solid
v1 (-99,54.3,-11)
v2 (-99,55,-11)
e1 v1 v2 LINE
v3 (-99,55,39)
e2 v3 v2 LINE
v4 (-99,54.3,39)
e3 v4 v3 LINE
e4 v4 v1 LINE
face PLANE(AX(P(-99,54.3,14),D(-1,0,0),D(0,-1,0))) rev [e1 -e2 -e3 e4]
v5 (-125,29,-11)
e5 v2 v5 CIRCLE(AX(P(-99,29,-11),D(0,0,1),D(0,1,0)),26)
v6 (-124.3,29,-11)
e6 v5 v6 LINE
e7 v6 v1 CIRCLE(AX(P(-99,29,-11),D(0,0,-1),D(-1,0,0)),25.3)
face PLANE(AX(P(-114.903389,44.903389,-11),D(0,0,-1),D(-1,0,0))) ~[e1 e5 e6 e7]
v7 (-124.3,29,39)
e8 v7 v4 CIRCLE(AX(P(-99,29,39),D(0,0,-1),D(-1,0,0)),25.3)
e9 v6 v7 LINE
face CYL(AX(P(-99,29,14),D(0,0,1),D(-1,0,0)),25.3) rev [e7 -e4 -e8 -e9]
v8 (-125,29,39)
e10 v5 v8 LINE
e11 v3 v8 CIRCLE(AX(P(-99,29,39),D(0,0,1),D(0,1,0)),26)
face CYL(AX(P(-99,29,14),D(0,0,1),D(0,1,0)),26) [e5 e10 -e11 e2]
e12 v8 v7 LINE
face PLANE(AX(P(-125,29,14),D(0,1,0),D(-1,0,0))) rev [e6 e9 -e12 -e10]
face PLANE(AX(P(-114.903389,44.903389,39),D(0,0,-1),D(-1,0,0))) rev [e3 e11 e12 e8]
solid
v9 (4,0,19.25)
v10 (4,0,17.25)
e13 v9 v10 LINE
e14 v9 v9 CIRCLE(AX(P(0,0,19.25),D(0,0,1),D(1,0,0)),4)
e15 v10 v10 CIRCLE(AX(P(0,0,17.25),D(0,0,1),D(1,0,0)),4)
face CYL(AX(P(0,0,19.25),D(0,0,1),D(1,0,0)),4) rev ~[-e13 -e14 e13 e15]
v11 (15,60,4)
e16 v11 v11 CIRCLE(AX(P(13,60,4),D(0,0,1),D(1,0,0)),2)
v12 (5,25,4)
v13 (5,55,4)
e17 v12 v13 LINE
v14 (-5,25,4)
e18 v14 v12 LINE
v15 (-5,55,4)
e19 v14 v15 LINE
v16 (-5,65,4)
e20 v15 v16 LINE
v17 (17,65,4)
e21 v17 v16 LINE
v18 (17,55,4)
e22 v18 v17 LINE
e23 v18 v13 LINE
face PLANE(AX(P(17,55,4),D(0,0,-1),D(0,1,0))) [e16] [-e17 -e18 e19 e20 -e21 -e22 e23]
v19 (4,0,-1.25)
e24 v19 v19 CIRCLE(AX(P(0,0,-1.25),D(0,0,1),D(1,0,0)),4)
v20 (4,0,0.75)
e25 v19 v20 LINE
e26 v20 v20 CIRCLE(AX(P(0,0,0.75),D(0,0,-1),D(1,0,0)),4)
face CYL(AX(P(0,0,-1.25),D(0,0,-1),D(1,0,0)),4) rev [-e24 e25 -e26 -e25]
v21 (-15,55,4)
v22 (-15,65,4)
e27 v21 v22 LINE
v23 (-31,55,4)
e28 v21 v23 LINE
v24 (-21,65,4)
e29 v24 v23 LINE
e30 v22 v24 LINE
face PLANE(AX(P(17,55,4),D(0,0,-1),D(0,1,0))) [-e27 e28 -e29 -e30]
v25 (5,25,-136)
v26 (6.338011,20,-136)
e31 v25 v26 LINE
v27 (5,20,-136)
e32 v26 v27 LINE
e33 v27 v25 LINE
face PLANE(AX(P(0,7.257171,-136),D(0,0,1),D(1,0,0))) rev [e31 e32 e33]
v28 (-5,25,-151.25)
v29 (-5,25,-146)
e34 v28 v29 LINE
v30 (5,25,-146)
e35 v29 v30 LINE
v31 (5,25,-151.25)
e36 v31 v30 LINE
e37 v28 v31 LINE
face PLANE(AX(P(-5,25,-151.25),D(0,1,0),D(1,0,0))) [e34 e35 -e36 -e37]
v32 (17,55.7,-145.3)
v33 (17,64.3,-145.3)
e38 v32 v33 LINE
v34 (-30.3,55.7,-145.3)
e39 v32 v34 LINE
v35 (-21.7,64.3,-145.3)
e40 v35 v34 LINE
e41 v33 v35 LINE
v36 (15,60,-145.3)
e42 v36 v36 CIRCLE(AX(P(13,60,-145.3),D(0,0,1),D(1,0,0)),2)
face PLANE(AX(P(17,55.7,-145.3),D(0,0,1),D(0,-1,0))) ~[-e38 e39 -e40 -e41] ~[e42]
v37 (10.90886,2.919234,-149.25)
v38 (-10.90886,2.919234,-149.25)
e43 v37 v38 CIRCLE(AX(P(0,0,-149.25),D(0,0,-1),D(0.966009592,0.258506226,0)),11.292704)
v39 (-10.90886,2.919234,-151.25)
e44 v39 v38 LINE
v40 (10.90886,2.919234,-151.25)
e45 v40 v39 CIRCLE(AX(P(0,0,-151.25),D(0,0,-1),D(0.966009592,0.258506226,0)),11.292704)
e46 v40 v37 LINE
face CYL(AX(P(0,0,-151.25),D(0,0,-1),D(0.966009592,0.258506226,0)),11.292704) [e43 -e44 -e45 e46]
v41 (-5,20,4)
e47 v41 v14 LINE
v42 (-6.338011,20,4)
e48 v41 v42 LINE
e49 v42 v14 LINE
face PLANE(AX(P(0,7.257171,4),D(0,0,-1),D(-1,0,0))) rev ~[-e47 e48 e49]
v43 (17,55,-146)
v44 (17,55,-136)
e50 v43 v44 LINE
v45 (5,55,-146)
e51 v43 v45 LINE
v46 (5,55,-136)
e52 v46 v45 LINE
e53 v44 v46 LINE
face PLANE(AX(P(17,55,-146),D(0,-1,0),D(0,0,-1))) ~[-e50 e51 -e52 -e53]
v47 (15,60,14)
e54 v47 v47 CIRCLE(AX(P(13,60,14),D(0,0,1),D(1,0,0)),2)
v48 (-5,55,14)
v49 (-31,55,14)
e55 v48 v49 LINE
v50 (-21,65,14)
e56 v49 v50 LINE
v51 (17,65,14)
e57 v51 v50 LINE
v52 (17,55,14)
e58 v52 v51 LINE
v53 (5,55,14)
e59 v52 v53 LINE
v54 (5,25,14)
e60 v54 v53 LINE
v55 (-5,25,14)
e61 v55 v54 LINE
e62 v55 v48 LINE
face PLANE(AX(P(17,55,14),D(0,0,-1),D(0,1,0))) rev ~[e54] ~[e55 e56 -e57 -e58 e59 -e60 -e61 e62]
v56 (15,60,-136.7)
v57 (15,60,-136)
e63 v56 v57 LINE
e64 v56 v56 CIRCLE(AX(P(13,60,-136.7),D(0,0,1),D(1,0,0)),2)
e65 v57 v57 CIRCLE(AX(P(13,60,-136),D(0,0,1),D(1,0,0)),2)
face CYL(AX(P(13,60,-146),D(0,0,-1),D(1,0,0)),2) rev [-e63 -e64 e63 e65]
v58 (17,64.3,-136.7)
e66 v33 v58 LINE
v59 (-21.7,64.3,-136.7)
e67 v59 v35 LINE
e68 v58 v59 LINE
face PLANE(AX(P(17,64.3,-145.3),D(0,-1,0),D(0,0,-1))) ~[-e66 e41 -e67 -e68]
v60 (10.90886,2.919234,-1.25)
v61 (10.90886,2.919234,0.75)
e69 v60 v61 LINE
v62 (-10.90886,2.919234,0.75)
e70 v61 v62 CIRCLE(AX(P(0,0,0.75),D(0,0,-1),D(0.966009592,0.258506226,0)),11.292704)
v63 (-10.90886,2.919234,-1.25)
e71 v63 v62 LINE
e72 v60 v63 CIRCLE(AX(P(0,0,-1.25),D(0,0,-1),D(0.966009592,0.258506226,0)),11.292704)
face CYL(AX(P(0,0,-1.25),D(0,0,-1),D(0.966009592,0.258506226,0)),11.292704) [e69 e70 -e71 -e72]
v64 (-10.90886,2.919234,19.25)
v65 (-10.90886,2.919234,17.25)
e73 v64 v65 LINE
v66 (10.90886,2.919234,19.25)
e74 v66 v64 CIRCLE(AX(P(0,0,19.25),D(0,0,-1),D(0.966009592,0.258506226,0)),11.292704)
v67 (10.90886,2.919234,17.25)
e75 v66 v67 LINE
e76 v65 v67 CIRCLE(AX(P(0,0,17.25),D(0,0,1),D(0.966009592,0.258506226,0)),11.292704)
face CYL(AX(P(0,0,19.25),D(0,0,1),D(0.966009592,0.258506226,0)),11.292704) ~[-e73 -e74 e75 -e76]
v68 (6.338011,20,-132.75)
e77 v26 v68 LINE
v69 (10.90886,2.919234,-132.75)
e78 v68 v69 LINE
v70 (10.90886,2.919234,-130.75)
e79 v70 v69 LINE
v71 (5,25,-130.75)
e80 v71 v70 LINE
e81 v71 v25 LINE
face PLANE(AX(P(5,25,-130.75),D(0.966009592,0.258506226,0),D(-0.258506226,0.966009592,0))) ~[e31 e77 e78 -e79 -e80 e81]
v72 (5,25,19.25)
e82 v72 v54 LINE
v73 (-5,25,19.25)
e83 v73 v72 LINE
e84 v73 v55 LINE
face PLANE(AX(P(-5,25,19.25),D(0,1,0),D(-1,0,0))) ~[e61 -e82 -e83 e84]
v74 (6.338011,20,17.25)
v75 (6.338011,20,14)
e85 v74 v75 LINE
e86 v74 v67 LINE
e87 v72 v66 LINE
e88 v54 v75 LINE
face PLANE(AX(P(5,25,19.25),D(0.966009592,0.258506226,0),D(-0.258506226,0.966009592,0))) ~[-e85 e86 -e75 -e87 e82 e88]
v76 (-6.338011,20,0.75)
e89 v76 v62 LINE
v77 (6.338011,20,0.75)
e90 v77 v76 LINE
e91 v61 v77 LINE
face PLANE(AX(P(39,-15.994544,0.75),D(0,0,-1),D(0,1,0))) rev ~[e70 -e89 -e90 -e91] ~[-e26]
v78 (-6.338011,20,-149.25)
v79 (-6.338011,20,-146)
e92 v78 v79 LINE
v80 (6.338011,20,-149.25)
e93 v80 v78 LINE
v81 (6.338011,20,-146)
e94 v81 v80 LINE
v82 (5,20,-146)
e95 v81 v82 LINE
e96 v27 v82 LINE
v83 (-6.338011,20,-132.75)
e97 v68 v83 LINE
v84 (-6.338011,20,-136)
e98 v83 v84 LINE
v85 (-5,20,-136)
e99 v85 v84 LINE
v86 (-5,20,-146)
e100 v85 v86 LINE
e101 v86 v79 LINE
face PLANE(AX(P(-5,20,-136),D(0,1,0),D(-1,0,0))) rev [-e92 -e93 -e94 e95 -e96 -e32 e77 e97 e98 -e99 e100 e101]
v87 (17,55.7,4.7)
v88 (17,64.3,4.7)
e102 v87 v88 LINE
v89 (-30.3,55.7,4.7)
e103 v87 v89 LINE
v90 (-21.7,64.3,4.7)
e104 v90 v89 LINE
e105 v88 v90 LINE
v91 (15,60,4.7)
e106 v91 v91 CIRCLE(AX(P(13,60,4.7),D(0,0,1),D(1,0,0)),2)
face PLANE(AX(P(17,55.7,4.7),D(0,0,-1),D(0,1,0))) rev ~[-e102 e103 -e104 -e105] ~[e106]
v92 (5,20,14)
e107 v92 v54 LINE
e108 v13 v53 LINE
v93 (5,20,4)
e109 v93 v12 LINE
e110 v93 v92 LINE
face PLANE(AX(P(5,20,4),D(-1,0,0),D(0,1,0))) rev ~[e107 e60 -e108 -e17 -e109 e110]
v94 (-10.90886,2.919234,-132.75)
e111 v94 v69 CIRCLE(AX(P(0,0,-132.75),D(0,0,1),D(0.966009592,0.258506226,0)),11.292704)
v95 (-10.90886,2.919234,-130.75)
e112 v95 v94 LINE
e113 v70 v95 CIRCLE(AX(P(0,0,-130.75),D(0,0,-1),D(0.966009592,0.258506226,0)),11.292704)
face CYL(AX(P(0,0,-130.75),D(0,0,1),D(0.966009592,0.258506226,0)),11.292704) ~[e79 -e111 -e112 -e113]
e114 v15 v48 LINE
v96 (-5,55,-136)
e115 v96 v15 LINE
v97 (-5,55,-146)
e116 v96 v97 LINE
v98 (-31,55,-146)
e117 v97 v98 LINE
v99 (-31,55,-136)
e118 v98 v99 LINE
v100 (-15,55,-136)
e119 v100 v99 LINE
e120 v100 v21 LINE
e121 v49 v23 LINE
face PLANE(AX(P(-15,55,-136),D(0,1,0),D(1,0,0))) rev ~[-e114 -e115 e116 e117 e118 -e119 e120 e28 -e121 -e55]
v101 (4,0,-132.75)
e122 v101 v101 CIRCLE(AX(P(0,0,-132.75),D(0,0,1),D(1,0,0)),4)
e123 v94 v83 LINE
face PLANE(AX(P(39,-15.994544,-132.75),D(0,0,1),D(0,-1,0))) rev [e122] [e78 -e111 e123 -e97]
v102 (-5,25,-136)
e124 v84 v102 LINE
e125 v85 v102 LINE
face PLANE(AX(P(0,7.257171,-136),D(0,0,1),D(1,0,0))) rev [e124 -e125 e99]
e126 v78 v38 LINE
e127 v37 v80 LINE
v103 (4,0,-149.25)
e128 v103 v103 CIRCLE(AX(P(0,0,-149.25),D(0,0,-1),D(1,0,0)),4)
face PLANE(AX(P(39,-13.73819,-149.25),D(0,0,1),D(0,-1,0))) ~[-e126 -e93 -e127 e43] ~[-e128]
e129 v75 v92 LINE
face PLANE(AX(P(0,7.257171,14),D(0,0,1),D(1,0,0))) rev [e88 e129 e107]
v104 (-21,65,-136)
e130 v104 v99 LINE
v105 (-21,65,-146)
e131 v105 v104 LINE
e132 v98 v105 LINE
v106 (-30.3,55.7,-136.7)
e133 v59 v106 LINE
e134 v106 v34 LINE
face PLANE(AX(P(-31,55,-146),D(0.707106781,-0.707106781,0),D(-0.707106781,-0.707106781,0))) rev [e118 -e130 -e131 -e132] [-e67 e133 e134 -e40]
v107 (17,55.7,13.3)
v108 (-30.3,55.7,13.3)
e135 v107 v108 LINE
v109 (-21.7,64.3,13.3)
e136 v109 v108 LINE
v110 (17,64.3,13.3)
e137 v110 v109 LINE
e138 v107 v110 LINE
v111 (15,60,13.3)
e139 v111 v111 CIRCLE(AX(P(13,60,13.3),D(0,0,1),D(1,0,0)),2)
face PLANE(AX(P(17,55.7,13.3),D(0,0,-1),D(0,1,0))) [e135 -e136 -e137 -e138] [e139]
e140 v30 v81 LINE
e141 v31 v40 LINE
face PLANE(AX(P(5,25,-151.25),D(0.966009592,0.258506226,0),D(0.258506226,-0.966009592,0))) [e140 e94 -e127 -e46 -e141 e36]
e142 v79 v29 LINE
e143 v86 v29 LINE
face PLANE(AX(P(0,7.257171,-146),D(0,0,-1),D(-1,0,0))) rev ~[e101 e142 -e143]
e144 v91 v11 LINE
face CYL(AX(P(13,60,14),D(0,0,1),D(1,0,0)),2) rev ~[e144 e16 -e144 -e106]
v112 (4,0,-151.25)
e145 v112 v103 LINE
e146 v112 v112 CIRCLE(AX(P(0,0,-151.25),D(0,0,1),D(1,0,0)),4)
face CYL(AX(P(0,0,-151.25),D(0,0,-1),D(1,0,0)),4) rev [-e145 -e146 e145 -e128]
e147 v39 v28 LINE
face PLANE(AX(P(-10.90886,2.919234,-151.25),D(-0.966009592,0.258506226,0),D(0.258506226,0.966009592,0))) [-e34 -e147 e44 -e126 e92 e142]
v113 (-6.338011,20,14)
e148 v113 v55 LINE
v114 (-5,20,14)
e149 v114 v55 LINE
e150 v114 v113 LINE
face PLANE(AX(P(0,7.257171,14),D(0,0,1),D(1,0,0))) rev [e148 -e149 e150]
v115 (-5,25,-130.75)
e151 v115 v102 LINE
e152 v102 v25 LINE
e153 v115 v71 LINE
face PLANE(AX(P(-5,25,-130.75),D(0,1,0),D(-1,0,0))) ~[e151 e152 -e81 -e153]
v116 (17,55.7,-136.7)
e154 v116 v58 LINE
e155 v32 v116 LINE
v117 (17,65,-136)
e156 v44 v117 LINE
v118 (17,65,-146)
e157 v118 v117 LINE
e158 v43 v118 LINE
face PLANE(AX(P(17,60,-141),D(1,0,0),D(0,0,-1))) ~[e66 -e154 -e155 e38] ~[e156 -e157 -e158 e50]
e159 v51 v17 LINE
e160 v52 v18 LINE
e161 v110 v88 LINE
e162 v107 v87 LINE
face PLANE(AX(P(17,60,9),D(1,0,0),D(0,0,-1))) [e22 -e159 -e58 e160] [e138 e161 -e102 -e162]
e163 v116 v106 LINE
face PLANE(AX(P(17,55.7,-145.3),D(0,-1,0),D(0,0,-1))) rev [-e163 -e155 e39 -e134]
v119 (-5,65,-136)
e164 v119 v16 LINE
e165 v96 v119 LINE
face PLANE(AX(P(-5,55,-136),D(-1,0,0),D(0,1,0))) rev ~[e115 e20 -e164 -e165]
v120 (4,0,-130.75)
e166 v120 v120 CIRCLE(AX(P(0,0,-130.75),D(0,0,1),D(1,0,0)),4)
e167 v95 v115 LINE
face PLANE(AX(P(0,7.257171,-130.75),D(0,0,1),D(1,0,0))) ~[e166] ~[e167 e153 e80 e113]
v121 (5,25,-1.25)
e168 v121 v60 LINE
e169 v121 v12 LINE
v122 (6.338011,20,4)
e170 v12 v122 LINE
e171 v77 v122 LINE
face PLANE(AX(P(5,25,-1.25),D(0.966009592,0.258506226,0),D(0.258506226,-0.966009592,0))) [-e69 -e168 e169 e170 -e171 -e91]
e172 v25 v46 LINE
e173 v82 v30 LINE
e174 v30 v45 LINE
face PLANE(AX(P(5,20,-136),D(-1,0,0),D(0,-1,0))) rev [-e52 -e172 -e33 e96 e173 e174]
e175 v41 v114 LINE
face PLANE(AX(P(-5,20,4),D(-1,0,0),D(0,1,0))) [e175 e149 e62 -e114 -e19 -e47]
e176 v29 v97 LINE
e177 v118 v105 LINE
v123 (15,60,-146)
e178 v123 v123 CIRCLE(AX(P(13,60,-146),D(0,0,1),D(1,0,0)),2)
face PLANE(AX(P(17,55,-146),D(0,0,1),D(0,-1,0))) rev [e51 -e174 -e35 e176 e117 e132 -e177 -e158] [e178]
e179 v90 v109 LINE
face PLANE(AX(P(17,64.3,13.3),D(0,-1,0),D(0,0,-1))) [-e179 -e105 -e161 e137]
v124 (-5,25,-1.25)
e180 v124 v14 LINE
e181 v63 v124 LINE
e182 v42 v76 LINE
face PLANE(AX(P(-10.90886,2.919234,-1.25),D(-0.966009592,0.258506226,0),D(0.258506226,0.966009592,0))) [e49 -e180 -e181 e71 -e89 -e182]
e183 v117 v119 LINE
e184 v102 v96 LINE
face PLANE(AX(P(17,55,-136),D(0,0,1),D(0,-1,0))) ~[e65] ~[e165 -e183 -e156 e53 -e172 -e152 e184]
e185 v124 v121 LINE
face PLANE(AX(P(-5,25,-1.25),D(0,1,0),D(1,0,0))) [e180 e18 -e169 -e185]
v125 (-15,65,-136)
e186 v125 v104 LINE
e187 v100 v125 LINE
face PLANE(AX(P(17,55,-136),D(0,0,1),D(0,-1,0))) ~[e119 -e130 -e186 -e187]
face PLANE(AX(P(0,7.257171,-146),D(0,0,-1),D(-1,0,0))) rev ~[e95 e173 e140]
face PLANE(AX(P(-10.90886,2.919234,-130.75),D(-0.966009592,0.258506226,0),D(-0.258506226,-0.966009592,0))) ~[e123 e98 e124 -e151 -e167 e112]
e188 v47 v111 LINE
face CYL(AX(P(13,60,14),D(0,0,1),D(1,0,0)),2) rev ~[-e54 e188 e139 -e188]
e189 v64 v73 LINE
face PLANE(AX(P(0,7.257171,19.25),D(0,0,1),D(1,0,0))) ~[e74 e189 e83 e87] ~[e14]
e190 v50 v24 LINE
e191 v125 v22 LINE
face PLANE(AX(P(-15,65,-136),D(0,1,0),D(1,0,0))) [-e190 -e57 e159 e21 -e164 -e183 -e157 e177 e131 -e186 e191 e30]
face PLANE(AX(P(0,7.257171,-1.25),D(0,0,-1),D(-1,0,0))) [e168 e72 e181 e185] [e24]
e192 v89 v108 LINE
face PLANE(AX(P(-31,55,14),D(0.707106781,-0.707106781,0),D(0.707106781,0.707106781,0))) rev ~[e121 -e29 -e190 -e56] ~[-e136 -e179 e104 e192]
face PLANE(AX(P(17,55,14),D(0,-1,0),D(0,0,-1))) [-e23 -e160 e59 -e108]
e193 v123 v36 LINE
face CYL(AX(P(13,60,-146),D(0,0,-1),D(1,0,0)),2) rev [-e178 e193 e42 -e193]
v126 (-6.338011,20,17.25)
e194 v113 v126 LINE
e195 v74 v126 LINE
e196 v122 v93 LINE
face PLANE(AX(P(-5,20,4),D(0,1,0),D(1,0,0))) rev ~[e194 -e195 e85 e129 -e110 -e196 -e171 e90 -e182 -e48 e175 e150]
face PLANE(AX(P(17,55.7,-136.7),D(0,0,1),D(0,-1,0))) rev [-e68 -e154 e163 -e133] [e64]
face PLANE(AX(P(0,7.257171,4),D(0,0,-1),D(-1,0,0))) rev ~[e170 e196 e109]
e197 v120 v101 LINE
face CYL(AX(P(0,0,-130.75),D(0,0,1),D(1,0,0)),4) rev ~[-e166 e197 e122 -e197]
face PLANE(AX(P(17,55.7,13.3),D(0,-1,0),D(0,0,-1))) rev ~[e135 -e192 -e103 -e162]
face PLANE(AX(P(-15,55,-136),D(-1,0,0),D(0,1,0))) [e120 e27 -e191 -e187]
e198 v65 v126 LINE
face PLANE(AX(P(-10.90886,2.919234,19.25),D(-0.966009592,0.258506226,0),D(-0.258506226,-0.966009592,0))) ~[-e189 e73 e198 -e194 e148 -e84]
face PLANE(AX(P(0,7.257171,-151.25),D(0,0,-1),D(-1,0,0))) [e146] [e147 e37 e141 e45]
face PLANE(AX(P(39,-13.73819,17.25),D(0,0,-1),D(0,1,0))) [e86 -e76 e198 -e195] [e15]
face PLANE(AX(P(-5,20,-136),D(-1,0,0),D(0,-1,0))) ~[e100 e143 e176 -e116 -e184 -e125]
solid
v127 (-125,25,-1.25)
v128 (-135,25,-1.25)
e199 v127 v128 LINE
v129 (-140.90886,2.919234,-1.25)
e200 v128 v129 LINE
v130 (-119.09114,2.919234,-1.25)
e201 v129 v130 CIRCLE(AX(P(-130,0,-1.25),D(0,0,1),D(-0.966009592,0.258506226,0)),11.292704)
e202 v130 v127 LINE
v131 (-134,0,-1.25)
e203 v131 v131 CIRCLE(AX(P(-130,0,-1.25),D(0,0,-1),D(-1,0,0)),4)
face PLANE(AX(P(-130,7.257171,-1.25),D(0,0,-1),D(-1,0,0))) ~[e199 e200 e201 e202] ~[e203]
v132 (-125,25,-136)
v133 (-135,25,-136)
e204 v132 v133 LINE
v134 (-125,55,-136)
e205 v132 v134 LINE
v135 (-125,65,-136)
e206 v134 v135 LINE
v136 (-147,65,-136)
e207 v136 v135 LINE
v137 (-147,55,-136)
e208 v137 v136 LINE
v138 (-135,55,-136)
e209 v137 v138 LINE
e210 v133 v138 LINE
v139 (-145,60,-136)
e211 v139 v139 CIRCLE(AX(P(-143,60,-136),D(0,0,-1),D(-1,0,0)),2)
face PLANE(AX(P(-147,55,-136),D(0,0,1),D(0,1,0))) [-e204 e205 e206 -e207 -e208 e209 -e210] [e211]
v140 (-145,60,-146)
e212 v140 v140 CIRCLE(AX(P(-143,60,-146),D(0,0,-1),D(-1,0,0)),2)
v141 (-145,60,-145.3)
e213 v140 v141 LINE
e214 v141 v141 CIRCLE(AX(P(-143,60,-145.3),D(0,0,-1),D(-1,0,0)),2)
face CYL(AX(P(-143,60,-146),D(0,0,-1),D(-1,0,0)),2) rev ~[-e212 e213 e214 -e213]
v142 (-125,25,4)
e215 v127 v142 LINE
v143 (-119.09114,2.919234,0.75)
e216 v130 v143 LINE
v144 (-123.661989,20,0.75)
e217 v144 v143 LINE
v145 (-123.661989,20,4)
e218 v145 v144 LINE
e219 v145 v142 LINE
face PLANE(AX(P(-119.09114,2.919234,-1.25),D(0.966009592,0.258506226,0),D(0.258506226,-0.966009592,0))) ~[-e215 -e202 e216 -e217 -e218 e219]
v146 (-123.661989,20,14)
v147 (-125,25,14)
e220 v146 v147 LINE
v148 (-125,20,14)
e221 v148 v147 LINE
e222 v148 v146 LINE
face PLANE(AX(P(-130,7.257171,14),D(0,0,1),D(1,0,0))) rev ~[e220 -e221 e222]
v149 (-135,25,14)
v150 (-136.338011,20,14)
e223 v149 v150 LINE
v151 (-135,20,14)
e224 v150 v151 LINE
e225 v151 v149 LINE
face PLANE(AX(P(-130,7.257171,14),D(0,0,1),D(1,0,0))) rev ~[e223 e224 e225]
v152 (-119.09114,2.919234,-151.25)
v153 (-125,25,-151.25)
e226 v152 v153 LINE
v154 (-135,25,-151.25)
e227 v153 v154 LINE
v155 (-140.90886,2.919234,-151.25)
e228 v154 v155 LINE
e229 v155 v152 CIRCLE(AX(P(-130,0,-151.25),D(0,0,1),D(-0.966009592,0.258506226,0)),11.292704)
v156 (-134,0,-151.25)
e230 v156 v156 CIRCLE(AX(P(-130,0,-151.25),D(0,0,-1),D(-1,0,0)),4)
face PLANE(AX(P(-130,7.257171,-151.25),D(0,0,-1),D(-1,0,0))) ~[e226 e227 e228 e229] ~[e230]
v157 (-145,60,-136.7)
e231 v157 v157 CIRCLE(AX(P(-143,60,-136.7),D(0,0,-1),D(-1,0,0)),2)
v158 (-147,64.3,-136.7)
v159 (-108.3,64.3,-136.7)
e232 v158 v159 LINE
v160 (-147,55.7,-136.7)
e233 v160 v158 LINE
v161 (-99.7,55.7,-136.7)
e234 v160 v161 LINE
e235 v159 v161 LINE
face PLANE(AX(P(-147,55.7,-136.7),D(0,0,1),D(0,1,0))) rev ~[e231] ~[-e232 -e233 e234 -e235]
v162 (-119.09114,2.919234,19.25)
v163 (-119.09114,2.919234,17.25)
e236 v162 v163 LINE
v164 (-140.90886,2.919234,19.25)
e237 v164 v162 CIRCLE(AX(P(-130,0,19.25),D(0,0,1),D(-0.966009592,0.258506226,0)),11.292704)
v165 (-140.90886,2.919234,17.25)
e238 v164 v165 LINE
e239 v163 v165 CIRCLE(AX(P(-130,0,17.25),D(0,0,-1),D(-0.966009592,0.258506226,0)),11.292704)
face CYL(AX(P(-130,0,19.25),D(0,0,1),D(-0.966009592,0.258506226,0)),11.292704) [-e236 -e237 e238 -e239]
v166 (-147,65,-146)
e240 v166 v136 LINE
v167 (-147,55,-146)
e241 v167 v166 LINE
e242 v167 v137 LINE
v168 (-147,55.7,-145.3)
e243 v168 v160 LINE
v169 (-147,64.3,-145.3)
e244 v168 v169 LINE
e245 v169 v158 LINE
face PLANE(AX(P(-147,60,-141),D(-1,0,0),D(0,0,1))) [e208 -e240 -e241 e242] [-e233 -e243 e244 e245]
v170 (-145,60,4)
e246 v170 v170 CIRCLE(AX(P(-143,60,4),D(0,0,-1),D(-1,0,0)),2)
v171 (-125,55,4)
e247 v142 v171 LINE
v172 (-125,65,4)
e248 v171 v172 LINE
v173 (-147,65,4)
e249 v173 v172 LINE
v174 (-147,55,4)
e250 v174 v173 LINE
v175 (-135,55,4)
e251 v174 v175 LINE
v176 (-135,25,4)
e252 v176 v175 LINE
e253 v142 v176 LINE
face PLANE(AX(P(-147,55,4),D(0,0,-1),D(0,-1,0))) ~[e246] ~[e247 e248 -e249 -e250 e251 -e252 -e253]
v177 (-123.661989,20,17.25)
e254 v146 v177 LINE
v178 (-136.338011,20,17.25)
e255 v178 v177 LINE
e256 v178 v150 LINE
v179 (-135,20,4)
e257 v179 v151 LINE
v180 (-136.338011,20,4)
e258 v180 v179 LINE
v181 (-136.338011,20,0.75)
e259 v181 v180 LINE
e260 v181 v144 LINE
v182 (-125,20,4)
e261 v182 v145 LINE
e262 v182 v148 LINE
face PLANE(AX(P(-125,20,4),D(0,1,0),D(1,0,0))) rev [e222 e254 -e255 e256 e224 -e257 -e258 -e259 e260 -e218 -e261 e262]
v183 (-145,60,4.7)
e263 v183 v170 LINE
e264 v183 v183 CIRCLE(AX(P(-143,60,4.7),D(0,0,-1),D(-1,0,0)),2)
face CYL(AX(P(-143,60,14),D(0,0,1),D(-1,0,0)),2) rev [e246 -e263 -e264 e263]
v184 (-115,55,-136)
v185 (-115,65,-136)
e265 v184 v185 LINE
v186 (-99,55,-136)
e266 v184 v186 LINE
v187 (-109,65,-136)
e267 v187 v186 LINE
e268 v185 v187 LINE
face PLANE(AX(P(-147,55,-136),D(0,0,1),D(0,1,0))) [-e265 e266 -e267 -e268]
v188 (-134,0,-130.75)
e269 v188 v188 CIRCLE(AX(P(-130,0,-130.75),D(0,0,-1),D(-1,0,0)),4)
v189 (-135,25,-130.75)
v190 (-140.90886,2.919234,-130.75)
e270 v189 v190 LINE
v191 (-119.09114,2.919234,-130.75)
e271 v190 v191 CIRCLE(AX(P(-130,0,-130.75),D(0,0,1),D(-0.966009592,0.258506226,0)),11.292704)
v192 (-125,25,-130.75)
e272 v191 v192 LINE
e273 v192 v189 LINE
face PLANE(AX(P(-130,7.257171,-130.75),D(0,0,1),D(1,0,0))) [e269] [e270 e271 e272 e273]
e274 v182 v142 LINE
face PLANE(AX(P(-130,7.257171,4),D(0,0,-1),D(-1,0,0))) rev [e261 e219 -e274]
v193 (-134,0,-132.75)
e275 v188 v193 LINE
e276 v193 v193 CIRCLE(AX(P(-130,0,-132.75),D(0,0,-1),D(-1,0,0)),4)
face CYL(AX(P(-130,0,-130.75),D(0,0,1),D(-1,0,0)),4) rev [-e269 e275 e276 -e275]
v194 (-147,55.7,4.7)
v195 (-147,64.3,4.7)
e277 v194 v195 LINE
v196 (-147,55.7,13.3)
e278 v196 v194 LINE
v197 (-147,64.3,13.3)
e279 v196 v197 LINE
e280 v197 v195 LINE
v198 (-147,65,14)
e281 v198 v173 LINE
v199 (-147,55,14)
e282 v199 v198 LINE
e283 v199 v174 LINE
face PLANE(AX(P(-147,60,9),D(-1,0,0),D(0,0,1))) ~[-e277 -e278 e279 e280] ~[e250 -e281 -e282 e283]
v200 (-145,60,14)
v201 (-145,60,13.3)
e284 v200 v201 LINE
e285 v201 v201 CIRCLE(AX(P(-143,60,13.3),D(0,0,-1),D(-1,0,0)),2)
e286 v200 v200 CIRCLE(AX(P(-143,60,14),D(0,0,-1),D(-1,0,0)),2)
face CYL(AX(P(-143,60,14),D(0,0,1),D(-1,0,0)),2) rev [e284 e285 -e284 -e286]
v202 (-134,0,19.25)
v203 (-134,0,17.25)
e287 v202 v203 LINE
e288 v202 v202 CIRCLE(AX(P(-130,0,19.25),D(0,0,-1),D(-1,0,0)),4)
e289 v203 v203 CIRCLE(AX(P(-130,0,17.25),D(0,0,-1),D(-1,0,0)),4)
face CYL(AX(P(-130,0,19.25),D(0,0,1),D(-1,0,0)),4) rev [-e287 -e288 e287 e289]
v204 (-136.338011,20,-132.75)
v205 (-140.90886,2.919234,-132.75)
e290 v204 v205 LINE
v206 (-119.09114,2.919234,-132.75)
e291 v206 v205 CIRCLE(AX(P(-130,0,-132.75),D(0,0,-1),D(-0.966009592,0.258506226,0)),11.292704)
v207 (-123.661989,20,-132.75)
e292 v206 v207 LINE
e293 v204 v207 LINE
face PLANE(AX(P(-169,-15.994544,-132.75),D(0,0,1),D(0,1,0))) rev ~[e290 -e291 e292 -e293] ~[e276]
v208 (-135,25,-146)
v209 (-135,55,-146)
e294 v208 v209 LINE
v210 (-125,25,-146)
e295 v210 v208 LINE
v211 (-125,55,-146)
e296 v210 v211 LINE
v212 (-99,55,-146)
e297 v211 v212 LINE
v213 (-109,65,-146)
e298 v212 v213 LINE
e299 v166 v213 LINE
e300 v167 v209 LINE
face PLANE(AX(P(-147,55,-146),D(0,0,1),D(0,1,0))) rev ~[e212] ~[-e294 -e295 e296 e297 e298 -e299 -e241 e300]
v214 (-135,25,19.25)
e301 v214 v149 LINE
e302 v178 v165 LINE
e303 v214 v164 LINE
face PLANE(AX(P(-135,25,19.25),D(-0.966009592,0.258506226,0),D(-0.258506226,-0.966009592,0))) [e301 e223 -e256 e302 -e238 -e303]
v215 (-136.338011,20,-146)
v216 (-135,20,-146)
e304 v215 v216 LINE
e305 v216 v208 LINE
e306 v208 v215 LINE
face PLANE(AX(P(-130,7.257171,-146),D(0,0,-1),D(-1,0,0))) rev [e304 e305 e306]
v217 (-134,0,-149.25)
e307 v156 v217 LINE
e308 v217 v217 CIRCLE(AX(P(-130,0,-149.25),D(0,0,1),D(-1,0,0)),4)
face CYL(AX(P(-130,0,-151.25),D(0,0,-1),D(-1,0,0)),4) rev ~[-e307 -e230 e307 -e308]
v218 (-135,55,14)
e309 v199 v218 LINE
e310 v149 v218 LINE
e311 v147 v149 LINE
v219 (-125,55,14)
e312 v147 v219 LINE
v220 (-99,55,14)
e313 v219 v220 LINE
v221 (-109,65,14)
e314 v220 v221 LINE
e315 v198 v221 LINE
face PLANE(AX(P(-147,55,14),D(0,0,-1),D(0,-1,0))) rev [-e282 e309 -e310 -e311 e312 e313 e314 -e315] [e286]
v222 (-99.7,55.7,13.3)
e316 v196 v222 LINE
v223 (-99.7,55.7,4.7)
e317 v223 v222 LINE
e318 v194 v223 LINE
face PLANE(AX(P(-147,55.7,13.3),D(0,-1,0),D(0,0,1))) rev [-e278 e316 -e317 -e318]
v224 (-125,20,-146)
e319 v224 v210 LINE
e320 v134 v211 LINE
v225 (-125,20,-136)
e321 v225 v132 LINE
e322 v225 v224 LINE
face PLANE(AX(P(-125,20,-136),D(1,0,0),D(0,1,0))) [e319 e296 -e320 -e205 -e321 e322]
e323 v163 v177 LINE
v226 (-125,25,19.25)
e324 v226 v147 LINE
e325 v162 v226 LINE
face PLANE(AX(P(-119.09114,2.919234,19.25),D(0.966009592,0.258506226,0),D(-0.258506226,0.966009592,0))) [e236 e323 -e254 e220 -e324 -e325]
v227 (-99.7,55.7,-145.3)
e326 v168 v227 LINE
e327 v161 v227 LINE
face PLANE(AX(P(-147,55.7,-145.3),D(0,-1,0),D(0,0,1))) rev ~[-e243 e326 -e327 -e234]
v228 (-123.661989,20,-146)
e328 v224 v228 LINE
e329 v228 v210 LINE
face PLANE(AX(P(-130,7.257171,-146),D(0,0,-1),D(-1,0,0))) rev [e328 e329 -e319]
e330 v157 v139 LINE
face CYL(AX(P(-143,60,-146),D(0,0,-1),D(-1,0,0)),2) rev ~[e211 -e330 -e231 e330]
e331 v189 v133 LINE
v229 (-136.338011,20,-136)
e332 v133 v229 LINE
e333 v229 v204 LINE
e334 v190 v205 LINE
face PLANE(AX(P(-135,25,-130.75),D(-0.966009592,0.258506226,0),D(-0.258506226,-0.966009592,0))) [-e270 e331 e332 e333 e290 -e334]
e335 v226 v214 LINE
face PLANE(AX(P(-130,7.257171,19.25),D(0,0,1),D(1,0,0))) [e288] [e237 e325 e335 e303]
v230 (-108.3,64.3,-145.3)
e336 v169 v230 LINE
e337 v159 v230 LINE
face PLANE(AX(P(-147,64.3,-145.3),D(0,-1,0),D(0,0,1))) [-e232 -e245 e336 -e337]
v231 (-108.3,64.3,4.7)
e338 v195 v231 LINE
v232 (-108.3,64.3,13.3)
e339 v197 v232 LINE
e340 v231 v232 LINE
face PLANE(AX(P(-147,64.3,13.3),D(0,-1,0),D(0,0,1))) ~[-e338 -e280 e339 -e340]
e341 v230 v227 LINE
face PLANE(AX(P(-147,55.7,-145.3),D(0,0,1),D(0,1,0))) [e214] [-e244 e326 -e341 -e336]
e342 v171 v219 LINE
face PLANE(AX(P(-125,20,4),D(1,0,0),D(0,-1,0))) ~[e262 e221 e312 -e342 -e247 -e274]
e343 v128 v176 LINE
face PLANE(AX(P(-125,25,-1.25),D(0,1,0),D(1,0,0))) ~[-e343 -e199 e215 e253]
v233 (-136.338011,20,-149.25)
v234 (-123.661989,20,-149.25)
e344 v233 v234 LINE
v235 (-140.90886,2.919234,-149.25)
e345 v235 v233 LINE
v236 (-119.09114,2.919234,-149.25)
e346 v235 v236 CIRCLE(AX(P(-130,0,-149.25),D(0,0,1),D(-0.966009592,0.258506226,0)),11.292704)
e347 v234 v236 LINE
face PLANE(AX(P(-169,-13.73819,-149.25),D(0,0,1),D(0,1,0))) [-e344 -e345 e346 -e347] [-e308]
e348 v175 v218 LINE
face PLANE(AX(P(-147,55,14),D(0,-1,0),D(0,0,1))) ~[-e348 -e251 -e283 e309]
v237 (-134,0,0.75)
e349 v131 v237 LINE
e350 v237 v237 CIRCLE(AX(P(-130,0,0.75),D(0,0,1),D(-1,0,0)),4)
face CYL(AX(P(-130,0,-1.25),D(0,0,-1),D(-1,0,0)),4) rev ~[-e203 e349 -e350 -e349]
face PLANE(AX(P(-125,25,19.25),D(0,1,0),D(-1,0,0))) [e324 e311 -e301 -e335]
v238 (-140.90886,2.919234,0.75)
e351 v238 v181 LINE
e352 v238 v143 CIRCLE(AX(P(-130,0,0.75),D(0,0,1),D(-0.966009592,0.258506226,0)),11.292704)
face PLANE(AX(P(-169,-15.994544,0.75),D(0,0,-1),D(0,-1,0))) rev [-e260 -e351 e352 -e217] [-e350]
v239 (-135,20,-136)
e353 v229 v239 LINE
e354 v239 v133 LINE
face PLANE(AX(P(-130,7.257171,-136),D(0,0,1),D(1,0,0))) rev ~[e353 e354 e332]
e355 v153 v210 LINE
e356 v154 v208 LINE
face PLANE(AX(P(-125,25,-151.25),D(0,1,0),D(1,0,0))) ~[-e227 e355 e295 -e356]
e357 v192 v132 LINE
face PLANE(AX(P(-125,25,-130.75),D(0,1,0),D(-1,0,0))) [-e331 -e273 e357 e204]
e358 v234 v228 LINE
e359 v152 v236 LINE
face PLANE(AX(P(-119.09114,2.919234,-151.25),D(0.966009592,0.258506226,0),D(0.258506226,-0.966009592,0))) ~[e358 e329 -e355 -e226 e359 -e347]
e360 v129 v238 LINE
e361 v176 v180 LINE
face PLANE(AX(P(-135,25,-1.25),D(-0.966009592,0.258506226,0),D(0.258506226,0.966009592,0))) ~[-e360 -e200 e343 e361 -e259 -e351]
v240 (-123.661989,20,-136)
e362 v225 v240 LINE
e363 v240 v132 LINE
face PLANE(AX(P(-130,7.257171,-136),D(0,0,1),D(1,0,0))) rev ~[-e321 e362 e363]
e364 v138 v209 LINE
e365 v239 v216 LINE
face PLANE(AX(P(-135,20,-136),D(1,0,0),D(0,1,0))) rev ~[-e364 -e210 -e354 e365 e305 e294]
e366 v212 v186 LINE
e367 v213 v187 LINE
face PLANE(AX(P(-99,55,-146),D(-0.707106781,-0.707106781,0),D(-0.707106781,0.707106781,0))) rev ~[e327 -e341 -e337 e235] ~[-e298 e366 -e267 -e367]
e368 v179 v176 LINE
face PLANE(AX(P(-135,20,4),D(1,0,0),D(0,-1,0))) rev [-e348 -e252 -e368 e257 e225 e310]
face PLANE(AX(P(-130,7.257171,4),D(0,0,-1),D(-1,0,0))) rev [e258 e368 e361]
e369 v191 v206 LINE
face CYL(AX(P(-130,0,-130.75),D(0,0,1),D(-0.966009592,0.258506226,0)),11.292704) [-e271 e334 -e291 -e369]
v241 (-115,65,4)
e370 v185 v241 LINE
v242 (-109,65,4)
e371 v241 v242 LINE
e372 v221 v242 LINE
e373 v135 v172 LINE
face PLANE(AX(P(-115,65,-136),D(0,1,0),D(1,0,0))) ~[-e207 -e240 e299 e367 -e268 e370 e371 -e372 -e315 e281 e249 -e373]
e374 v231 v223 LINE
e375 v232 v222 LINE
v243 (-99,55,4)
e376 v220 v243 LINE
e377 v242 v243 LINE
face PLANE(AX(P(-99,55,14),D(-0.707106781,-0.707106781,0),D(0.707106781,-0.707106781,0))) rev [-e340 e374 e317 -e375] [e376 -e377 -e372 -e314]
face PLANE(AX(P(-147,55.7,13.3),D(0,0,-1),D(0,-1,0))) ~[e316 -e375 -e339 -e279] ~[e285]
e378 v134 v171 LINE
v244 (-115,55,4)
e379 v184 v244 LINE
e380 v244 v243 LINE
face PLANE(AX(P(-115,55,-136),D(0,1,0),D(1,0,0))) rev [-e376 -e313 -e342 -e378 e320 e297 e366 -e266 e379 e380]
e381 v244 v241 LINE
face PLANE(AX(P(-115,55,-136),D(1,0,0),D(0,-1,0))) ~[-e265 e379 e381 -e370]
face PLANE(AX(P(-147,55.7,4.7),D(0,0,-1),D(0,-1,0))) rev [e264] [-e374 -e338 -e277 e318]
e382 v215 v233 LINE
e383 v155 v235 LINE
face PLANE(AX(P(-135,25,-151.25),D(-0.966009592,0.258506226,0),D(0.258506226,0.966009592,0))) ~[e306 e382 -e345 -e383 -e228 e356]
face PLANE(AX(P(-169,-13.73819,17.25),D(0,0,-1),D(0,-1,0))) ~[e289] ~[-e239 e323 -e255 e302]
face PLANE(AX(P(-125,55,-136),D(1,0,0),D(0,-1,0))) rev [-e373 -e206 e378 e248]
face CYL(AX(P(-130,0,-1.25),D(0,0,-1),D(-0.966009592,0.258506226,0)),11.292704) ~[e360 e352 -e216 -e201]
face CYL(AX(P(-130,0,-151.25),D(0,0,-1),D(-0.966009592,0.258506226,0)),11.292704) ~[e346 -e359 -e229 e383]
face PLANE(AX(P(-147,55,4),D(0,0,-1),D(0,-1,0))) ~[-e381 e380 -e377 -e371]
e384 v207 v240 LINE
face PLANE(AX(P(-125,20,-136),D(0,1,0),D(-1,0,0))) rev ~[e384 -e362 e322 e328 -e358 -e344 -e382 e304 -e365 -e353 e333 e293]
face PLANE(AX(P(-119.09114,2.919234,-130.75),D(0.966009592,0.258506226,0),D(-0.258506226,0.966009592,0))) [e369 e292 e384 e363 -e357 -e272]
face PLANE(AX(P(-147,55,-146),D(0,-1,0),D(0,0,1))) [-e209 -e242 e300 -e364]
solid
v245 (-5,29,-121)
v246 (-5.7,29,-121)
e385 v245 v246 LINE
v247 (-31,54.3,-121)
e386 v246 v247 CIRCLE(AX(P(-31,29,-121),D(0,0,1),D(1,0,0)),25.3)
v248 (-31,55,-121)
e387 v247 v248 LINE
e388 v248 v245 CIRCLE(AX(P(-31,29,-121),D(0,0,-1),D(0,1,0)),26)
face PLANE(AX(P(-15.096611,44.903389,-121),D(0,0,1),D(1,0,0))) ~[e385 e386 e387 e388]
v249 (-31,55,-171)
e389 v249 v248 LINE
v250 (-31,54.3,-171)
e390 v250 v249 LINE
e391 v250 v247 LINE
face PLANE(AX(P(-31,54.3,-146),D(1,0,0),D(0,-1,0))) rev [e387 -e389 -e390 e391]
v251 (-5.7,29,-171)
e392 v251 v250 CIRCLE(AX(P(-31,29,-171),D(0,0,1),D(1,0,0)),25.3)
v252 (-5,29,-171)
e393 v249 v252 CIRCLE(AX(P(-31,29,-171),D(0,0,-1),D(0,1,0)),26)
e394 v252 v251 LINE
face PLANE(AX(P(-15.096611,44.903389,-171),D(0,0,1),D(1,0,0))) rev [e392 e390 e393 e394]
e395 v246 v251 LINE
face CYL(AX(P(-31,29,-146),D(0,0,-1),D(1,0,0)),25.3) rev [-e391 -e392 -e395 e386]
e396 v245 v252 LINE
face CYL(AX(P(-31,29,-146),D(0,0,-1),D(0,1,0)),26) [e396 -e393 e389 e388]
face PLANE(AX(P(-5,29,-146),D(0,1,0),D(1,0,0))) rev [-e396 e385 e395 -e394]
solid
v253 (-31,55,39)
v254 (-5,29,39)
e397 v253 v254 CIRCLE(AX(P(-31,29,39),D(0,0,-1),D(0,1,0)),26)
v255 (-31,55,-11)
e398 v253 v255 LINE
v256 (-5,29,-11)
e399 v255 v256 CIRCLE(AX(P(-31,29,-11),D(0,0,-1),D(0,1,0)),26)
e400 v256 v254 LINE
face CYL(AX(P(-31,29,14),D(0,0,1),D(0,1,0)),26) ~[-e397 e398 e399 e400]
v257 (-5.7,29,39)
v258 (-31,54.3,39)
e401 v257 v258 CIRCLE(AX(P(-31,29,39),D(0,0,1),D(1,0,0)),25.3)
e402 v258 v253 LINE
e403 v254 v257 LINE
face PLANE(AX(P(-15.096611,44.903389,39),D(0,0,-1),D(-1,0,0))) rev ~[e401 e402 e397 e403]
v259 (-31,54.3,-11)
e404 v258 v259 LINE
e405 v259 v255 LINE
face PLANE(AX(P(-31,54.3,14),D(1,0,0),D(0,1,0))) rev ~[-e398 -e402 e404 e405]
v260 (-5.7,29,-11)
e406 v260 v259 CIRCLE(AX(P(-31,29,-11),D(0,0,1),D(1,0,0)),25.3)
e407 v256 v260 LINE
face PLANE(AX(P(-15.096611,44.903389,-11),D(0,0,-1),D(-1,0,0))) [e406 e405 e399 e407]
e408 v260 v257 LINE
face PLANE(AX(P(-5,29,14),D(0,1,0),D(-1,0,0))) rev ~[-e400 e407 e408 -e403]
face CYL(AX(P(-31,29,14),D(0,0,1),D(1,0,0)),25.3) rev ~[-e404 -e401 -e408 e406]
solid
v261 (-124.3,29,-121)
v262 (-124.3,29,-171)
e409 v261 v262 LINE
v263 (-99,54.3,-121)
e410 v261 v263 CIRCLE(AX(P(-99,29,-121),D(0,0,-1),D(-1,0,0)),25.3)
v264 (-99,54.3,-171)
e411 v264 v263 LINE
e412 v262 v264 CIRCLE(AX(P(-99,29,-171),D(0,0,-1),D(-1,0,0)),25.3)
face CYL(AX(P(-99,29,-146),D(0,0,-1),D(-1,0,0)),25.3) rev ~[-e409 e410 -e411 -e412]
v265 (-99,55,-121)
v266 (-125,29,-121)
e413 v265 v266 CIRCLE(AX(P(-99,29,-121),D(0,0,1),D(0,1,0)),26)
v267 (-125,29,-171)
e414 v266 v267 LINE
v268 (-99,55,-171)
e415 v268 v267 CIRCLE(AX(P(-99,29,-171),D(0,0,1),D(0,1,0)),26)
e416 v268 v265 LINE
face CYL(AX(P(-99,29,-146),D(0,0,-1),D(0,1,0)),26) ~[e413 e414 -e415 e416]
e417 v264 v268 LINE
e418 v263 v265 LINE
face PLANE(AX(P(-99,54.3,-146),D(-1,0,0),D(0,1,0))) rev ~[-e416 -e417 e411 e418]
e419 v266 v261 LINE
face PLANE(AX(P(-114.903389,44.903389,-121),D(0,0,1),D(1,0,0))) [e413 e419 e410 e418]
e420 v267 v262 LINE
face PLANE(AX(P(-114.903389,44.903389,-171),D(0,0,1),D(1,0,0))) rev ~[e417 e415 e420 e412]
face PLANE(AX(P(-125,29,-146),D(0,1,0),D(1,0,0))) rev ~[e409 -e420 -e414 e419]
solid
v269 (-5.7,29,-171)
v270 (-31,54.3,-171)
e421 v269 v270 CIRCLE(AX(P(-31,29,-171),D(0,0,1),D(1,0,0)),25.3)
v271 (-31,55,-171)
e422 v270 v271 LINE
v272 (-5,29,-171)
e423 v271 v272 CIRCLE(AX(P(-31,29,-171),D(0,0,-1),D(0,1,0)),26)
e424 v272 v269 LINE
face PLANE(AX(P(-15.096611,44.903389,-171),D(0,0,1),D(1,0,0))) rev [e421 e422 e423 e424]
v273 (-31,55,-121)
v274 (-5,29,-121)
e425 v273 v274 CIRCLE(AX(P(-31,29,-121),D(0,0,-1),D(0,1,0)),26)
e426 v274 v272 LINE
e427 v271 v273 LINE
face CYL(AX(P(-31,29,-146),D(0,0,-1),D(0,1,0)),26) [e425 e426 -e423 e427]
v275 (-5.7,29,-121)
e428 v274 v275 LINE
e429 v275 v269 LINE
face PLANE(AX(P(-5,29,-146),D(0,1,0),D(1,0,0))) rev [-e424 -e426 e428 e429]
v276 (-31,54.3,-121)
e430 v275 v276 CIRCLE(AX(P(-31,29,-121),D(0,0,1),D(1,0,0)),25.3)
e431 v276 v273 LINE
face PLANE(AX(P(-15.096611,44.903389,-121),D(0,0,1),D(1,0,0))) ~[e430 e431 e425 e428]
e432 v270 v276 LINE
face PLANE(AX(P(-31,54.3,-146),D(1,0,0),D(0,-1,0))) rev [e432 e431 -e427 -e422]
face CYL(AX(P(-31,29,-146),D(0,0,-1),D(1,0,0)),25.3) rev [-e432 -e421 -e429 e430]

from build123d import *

# Parameters (mm, degrees)
BOSS_EXTRUDE1_DEPTH      = 4
BOSS_EXTRUDE1_DEPTH_BACK = 1.25
SKETCH1_R                = 4
SKETCH2_W                = 10
SKETCH2_H                = 35
BOSS_EXTRUDE2_DEPTH      = 10
SKETCH4_W                = 10
SKETCH4_H                = 10
SKETCH4_W_2              = 8.6
SKETCH4_H_2              = 8.6
BOSS_EXTRUDE3_DEPTH      = 48
SKETCH5_R                = 2
CUT_EXTRUDE1_DEPTH       = 50
BOSS_EXTRUDE4_DEPTH      = 25
CUT_EXTRUDE2_DEPTH       = 50
SKETCH11_W               = 10
SKETCH11_H               = 10
BOSS_EXTRUDE5_DEPTH      = 140
CUT_EXTRUDE5_START       = -44
SKETCH16_W               = 3.25
SKETCH16_H               = 33.738190003
SKETCH16_H_2             = 35.994544039
CUT_EXTRUDE5_DEPTH       = 80


with BuildPart() as part:
    # Sketch1 → Boss-Extrude1 (new, two sides: drawn at the far end of the back side and taken through both)
    with BuildSketch(Plane.XY.offset(-BOSS_EXTRUDE1_DEPTH_BACK)):
        with BuildLine():
            Line((-5, 25), (5, 25))
            Line((5, 25), (10.908860009, 2.919234199))
            ThreePointArc((10.908860009, 2.919234199), (0, -11.292703618), (-10.908860009, 2.919234199))
            Line((-10.908860009, 2.919234199), (-5, 25))
        make_face()
        Circle(SKETCH1_R, mode=Mode.SUBTRACT)
    extrude(amount=BOSS_EXTRUDE1_DEPTH + BOSS_EXTRUDE1_DEPTH_BACK)

    # Sketch2 → Boss-Extrude2 (add)
    with BuildSketch(Plane.XY.offset(4)):
        with Locations((0, 37.5)):
            Rectangle(SKETCH2_W, SKETCH2_H)
    extrude(amount=BOSS_EXTRUDE2_DEPTH)

    # Mirror1: part across plane


with BuildPart() as part_1:
    add(part.part)
    add(part.part.mirror(Plane.XY.offset(9)))

    # Sketch4 → Boss-Extrude3 (add)
    with BuildSketch(Plane(origin=(17, 0, 0), x_dir=(0, 0, -1), z_dir=(1, 0, 0))):
        with Locations((-9, 60)):
            Rectangle(SKETCH4_W, SKETCH4_H)
        with Locations((-9, 60)):
            Rectangle(SKETCH4_W_2, SKETCH4_H_2, mode=Mode.SUBTRACT)
    extrude(amount=-BOSS_EXTRUDE3_DEPTH)

    # Sketch5 → Cut-Extrude1 (cut)
    with BuildSketch(Plane.XY.offset(14)):
        with Locations((13, 60)):
            Circle(SKETCH5_R)
    extrude(amount=-CUT_EXTRUDE1_DEPTH, mode=Mode.SUBTRACT)

    # Sketch10 → Cut-Extrude2 (cut)
    with BuildSketch(Plane.XY.offset(14)):
        Polygon((-31, 65), (-31, 55), (-21, 65), align=None)
    extrude(amount=-CUT_EXTRUDE2_DEPTH, mode=Mode.SUBTRACT)


with BuildPart() as body_2:
    # Sketch9 → Boss-Extrude4 (new, symmetric)
    with BuildSketch(Plane.XY.offset(14)):
        with BuildLine():
            ThreePointArc((-5.7, 29), (-13.110198436, 46.889801564), (-31, 54.3))
            Line((-31, 54.3), (-31, 55))
            ThreePointArc((-31, 55), (-12.615223689, 47.384776311), (-5, 29))
            Line((-5, 29), (-5.7, 29))
        make_face()
    extrude(amount=BOSS_EXTRUDE4_DEPTH, both=True)


with BuildPart() as body_3:
    # Mirror2: mirrored copy
    add(part_1.part.mirror(Plane(origin=(0, 0, -66), x_dir=(1, 0, 0), z_dir=(0, 0, -1))))


with BuildPart() as body_4:
    # Mirror2 2: mirrored copy
    add(body_2.part.mirror(Plane(origin=(0, 0, -66), x_dir=(1, 0, 0), z_dir=(0, 0, -1))))


with BuildPart() as part_2:
    add(part_1.part)

    add(body_3.part)  # Boss-Extrude5 merges body 3
    # Sketch11 → Boss-Extrude5 (add)
    with BuildSketch(Plane.XY.offset(-136)):
        with Locations((-10, 60)):
            Rectangle(SKETCH11_W, SKETCH11_H)
    extrude(amount=BOSS_EXTRUDE5_DEPTH)

    # Sketch16 → Cut-Extrude5 (cut)
    with BuildSketch(Plane.ZY.offset(5).offset(CUT_EXTRUDE5_START)):
        with Locations((15.625, 3.130904998)):
            Rectangle(SKETCH16_W, SKETCH16_H)
        with Locations((2.375, 2.00272798)):
            Rectangle(SKETCH16_W, SKETCH16_H_2)
    cut_extrude5 = extrude(amount=CUT_EXTRUDE5_DEPTH, mode=Mode.SUBTRACT)

    # Mirror8: Cut-Extrude5 across plane
    add(cut_extrude5.mirror(Plane(origin=(0, 0, -66), x_dir=(1, 0, 0), z_dir=(0, 0, -1))), mode=Mode.SUBTRACT)


with BuildPart() as body_4_2:
    # Mirror7: mirrored copy
    add(body_2.part.mirror(Plane(origin=(0, 0, -66), x_dir=(1, 0, 0), z_dir=(0, 0, -1))))


with BuildPart() as body_5:
    # Mirror9: mirrored copy
    add(part_2.part.mirror(Plane.ZY.offset(65)))


with BuildPart() as body_6:
    # Mirror9 2: mirrored copy
    add(body_2.part.mirror(Plane.ZY.offset(65)))


with BuildPart() as body_7:
    # Mirror9 3: mirrored copy
    add(body_4_2.part.mirror(Plane.ZY.offset(65)))


solid = Compound([body_2.part, body_4.part, part_2.part, body_4_2.part, body_5.part, body_6.part, body_7.part])
